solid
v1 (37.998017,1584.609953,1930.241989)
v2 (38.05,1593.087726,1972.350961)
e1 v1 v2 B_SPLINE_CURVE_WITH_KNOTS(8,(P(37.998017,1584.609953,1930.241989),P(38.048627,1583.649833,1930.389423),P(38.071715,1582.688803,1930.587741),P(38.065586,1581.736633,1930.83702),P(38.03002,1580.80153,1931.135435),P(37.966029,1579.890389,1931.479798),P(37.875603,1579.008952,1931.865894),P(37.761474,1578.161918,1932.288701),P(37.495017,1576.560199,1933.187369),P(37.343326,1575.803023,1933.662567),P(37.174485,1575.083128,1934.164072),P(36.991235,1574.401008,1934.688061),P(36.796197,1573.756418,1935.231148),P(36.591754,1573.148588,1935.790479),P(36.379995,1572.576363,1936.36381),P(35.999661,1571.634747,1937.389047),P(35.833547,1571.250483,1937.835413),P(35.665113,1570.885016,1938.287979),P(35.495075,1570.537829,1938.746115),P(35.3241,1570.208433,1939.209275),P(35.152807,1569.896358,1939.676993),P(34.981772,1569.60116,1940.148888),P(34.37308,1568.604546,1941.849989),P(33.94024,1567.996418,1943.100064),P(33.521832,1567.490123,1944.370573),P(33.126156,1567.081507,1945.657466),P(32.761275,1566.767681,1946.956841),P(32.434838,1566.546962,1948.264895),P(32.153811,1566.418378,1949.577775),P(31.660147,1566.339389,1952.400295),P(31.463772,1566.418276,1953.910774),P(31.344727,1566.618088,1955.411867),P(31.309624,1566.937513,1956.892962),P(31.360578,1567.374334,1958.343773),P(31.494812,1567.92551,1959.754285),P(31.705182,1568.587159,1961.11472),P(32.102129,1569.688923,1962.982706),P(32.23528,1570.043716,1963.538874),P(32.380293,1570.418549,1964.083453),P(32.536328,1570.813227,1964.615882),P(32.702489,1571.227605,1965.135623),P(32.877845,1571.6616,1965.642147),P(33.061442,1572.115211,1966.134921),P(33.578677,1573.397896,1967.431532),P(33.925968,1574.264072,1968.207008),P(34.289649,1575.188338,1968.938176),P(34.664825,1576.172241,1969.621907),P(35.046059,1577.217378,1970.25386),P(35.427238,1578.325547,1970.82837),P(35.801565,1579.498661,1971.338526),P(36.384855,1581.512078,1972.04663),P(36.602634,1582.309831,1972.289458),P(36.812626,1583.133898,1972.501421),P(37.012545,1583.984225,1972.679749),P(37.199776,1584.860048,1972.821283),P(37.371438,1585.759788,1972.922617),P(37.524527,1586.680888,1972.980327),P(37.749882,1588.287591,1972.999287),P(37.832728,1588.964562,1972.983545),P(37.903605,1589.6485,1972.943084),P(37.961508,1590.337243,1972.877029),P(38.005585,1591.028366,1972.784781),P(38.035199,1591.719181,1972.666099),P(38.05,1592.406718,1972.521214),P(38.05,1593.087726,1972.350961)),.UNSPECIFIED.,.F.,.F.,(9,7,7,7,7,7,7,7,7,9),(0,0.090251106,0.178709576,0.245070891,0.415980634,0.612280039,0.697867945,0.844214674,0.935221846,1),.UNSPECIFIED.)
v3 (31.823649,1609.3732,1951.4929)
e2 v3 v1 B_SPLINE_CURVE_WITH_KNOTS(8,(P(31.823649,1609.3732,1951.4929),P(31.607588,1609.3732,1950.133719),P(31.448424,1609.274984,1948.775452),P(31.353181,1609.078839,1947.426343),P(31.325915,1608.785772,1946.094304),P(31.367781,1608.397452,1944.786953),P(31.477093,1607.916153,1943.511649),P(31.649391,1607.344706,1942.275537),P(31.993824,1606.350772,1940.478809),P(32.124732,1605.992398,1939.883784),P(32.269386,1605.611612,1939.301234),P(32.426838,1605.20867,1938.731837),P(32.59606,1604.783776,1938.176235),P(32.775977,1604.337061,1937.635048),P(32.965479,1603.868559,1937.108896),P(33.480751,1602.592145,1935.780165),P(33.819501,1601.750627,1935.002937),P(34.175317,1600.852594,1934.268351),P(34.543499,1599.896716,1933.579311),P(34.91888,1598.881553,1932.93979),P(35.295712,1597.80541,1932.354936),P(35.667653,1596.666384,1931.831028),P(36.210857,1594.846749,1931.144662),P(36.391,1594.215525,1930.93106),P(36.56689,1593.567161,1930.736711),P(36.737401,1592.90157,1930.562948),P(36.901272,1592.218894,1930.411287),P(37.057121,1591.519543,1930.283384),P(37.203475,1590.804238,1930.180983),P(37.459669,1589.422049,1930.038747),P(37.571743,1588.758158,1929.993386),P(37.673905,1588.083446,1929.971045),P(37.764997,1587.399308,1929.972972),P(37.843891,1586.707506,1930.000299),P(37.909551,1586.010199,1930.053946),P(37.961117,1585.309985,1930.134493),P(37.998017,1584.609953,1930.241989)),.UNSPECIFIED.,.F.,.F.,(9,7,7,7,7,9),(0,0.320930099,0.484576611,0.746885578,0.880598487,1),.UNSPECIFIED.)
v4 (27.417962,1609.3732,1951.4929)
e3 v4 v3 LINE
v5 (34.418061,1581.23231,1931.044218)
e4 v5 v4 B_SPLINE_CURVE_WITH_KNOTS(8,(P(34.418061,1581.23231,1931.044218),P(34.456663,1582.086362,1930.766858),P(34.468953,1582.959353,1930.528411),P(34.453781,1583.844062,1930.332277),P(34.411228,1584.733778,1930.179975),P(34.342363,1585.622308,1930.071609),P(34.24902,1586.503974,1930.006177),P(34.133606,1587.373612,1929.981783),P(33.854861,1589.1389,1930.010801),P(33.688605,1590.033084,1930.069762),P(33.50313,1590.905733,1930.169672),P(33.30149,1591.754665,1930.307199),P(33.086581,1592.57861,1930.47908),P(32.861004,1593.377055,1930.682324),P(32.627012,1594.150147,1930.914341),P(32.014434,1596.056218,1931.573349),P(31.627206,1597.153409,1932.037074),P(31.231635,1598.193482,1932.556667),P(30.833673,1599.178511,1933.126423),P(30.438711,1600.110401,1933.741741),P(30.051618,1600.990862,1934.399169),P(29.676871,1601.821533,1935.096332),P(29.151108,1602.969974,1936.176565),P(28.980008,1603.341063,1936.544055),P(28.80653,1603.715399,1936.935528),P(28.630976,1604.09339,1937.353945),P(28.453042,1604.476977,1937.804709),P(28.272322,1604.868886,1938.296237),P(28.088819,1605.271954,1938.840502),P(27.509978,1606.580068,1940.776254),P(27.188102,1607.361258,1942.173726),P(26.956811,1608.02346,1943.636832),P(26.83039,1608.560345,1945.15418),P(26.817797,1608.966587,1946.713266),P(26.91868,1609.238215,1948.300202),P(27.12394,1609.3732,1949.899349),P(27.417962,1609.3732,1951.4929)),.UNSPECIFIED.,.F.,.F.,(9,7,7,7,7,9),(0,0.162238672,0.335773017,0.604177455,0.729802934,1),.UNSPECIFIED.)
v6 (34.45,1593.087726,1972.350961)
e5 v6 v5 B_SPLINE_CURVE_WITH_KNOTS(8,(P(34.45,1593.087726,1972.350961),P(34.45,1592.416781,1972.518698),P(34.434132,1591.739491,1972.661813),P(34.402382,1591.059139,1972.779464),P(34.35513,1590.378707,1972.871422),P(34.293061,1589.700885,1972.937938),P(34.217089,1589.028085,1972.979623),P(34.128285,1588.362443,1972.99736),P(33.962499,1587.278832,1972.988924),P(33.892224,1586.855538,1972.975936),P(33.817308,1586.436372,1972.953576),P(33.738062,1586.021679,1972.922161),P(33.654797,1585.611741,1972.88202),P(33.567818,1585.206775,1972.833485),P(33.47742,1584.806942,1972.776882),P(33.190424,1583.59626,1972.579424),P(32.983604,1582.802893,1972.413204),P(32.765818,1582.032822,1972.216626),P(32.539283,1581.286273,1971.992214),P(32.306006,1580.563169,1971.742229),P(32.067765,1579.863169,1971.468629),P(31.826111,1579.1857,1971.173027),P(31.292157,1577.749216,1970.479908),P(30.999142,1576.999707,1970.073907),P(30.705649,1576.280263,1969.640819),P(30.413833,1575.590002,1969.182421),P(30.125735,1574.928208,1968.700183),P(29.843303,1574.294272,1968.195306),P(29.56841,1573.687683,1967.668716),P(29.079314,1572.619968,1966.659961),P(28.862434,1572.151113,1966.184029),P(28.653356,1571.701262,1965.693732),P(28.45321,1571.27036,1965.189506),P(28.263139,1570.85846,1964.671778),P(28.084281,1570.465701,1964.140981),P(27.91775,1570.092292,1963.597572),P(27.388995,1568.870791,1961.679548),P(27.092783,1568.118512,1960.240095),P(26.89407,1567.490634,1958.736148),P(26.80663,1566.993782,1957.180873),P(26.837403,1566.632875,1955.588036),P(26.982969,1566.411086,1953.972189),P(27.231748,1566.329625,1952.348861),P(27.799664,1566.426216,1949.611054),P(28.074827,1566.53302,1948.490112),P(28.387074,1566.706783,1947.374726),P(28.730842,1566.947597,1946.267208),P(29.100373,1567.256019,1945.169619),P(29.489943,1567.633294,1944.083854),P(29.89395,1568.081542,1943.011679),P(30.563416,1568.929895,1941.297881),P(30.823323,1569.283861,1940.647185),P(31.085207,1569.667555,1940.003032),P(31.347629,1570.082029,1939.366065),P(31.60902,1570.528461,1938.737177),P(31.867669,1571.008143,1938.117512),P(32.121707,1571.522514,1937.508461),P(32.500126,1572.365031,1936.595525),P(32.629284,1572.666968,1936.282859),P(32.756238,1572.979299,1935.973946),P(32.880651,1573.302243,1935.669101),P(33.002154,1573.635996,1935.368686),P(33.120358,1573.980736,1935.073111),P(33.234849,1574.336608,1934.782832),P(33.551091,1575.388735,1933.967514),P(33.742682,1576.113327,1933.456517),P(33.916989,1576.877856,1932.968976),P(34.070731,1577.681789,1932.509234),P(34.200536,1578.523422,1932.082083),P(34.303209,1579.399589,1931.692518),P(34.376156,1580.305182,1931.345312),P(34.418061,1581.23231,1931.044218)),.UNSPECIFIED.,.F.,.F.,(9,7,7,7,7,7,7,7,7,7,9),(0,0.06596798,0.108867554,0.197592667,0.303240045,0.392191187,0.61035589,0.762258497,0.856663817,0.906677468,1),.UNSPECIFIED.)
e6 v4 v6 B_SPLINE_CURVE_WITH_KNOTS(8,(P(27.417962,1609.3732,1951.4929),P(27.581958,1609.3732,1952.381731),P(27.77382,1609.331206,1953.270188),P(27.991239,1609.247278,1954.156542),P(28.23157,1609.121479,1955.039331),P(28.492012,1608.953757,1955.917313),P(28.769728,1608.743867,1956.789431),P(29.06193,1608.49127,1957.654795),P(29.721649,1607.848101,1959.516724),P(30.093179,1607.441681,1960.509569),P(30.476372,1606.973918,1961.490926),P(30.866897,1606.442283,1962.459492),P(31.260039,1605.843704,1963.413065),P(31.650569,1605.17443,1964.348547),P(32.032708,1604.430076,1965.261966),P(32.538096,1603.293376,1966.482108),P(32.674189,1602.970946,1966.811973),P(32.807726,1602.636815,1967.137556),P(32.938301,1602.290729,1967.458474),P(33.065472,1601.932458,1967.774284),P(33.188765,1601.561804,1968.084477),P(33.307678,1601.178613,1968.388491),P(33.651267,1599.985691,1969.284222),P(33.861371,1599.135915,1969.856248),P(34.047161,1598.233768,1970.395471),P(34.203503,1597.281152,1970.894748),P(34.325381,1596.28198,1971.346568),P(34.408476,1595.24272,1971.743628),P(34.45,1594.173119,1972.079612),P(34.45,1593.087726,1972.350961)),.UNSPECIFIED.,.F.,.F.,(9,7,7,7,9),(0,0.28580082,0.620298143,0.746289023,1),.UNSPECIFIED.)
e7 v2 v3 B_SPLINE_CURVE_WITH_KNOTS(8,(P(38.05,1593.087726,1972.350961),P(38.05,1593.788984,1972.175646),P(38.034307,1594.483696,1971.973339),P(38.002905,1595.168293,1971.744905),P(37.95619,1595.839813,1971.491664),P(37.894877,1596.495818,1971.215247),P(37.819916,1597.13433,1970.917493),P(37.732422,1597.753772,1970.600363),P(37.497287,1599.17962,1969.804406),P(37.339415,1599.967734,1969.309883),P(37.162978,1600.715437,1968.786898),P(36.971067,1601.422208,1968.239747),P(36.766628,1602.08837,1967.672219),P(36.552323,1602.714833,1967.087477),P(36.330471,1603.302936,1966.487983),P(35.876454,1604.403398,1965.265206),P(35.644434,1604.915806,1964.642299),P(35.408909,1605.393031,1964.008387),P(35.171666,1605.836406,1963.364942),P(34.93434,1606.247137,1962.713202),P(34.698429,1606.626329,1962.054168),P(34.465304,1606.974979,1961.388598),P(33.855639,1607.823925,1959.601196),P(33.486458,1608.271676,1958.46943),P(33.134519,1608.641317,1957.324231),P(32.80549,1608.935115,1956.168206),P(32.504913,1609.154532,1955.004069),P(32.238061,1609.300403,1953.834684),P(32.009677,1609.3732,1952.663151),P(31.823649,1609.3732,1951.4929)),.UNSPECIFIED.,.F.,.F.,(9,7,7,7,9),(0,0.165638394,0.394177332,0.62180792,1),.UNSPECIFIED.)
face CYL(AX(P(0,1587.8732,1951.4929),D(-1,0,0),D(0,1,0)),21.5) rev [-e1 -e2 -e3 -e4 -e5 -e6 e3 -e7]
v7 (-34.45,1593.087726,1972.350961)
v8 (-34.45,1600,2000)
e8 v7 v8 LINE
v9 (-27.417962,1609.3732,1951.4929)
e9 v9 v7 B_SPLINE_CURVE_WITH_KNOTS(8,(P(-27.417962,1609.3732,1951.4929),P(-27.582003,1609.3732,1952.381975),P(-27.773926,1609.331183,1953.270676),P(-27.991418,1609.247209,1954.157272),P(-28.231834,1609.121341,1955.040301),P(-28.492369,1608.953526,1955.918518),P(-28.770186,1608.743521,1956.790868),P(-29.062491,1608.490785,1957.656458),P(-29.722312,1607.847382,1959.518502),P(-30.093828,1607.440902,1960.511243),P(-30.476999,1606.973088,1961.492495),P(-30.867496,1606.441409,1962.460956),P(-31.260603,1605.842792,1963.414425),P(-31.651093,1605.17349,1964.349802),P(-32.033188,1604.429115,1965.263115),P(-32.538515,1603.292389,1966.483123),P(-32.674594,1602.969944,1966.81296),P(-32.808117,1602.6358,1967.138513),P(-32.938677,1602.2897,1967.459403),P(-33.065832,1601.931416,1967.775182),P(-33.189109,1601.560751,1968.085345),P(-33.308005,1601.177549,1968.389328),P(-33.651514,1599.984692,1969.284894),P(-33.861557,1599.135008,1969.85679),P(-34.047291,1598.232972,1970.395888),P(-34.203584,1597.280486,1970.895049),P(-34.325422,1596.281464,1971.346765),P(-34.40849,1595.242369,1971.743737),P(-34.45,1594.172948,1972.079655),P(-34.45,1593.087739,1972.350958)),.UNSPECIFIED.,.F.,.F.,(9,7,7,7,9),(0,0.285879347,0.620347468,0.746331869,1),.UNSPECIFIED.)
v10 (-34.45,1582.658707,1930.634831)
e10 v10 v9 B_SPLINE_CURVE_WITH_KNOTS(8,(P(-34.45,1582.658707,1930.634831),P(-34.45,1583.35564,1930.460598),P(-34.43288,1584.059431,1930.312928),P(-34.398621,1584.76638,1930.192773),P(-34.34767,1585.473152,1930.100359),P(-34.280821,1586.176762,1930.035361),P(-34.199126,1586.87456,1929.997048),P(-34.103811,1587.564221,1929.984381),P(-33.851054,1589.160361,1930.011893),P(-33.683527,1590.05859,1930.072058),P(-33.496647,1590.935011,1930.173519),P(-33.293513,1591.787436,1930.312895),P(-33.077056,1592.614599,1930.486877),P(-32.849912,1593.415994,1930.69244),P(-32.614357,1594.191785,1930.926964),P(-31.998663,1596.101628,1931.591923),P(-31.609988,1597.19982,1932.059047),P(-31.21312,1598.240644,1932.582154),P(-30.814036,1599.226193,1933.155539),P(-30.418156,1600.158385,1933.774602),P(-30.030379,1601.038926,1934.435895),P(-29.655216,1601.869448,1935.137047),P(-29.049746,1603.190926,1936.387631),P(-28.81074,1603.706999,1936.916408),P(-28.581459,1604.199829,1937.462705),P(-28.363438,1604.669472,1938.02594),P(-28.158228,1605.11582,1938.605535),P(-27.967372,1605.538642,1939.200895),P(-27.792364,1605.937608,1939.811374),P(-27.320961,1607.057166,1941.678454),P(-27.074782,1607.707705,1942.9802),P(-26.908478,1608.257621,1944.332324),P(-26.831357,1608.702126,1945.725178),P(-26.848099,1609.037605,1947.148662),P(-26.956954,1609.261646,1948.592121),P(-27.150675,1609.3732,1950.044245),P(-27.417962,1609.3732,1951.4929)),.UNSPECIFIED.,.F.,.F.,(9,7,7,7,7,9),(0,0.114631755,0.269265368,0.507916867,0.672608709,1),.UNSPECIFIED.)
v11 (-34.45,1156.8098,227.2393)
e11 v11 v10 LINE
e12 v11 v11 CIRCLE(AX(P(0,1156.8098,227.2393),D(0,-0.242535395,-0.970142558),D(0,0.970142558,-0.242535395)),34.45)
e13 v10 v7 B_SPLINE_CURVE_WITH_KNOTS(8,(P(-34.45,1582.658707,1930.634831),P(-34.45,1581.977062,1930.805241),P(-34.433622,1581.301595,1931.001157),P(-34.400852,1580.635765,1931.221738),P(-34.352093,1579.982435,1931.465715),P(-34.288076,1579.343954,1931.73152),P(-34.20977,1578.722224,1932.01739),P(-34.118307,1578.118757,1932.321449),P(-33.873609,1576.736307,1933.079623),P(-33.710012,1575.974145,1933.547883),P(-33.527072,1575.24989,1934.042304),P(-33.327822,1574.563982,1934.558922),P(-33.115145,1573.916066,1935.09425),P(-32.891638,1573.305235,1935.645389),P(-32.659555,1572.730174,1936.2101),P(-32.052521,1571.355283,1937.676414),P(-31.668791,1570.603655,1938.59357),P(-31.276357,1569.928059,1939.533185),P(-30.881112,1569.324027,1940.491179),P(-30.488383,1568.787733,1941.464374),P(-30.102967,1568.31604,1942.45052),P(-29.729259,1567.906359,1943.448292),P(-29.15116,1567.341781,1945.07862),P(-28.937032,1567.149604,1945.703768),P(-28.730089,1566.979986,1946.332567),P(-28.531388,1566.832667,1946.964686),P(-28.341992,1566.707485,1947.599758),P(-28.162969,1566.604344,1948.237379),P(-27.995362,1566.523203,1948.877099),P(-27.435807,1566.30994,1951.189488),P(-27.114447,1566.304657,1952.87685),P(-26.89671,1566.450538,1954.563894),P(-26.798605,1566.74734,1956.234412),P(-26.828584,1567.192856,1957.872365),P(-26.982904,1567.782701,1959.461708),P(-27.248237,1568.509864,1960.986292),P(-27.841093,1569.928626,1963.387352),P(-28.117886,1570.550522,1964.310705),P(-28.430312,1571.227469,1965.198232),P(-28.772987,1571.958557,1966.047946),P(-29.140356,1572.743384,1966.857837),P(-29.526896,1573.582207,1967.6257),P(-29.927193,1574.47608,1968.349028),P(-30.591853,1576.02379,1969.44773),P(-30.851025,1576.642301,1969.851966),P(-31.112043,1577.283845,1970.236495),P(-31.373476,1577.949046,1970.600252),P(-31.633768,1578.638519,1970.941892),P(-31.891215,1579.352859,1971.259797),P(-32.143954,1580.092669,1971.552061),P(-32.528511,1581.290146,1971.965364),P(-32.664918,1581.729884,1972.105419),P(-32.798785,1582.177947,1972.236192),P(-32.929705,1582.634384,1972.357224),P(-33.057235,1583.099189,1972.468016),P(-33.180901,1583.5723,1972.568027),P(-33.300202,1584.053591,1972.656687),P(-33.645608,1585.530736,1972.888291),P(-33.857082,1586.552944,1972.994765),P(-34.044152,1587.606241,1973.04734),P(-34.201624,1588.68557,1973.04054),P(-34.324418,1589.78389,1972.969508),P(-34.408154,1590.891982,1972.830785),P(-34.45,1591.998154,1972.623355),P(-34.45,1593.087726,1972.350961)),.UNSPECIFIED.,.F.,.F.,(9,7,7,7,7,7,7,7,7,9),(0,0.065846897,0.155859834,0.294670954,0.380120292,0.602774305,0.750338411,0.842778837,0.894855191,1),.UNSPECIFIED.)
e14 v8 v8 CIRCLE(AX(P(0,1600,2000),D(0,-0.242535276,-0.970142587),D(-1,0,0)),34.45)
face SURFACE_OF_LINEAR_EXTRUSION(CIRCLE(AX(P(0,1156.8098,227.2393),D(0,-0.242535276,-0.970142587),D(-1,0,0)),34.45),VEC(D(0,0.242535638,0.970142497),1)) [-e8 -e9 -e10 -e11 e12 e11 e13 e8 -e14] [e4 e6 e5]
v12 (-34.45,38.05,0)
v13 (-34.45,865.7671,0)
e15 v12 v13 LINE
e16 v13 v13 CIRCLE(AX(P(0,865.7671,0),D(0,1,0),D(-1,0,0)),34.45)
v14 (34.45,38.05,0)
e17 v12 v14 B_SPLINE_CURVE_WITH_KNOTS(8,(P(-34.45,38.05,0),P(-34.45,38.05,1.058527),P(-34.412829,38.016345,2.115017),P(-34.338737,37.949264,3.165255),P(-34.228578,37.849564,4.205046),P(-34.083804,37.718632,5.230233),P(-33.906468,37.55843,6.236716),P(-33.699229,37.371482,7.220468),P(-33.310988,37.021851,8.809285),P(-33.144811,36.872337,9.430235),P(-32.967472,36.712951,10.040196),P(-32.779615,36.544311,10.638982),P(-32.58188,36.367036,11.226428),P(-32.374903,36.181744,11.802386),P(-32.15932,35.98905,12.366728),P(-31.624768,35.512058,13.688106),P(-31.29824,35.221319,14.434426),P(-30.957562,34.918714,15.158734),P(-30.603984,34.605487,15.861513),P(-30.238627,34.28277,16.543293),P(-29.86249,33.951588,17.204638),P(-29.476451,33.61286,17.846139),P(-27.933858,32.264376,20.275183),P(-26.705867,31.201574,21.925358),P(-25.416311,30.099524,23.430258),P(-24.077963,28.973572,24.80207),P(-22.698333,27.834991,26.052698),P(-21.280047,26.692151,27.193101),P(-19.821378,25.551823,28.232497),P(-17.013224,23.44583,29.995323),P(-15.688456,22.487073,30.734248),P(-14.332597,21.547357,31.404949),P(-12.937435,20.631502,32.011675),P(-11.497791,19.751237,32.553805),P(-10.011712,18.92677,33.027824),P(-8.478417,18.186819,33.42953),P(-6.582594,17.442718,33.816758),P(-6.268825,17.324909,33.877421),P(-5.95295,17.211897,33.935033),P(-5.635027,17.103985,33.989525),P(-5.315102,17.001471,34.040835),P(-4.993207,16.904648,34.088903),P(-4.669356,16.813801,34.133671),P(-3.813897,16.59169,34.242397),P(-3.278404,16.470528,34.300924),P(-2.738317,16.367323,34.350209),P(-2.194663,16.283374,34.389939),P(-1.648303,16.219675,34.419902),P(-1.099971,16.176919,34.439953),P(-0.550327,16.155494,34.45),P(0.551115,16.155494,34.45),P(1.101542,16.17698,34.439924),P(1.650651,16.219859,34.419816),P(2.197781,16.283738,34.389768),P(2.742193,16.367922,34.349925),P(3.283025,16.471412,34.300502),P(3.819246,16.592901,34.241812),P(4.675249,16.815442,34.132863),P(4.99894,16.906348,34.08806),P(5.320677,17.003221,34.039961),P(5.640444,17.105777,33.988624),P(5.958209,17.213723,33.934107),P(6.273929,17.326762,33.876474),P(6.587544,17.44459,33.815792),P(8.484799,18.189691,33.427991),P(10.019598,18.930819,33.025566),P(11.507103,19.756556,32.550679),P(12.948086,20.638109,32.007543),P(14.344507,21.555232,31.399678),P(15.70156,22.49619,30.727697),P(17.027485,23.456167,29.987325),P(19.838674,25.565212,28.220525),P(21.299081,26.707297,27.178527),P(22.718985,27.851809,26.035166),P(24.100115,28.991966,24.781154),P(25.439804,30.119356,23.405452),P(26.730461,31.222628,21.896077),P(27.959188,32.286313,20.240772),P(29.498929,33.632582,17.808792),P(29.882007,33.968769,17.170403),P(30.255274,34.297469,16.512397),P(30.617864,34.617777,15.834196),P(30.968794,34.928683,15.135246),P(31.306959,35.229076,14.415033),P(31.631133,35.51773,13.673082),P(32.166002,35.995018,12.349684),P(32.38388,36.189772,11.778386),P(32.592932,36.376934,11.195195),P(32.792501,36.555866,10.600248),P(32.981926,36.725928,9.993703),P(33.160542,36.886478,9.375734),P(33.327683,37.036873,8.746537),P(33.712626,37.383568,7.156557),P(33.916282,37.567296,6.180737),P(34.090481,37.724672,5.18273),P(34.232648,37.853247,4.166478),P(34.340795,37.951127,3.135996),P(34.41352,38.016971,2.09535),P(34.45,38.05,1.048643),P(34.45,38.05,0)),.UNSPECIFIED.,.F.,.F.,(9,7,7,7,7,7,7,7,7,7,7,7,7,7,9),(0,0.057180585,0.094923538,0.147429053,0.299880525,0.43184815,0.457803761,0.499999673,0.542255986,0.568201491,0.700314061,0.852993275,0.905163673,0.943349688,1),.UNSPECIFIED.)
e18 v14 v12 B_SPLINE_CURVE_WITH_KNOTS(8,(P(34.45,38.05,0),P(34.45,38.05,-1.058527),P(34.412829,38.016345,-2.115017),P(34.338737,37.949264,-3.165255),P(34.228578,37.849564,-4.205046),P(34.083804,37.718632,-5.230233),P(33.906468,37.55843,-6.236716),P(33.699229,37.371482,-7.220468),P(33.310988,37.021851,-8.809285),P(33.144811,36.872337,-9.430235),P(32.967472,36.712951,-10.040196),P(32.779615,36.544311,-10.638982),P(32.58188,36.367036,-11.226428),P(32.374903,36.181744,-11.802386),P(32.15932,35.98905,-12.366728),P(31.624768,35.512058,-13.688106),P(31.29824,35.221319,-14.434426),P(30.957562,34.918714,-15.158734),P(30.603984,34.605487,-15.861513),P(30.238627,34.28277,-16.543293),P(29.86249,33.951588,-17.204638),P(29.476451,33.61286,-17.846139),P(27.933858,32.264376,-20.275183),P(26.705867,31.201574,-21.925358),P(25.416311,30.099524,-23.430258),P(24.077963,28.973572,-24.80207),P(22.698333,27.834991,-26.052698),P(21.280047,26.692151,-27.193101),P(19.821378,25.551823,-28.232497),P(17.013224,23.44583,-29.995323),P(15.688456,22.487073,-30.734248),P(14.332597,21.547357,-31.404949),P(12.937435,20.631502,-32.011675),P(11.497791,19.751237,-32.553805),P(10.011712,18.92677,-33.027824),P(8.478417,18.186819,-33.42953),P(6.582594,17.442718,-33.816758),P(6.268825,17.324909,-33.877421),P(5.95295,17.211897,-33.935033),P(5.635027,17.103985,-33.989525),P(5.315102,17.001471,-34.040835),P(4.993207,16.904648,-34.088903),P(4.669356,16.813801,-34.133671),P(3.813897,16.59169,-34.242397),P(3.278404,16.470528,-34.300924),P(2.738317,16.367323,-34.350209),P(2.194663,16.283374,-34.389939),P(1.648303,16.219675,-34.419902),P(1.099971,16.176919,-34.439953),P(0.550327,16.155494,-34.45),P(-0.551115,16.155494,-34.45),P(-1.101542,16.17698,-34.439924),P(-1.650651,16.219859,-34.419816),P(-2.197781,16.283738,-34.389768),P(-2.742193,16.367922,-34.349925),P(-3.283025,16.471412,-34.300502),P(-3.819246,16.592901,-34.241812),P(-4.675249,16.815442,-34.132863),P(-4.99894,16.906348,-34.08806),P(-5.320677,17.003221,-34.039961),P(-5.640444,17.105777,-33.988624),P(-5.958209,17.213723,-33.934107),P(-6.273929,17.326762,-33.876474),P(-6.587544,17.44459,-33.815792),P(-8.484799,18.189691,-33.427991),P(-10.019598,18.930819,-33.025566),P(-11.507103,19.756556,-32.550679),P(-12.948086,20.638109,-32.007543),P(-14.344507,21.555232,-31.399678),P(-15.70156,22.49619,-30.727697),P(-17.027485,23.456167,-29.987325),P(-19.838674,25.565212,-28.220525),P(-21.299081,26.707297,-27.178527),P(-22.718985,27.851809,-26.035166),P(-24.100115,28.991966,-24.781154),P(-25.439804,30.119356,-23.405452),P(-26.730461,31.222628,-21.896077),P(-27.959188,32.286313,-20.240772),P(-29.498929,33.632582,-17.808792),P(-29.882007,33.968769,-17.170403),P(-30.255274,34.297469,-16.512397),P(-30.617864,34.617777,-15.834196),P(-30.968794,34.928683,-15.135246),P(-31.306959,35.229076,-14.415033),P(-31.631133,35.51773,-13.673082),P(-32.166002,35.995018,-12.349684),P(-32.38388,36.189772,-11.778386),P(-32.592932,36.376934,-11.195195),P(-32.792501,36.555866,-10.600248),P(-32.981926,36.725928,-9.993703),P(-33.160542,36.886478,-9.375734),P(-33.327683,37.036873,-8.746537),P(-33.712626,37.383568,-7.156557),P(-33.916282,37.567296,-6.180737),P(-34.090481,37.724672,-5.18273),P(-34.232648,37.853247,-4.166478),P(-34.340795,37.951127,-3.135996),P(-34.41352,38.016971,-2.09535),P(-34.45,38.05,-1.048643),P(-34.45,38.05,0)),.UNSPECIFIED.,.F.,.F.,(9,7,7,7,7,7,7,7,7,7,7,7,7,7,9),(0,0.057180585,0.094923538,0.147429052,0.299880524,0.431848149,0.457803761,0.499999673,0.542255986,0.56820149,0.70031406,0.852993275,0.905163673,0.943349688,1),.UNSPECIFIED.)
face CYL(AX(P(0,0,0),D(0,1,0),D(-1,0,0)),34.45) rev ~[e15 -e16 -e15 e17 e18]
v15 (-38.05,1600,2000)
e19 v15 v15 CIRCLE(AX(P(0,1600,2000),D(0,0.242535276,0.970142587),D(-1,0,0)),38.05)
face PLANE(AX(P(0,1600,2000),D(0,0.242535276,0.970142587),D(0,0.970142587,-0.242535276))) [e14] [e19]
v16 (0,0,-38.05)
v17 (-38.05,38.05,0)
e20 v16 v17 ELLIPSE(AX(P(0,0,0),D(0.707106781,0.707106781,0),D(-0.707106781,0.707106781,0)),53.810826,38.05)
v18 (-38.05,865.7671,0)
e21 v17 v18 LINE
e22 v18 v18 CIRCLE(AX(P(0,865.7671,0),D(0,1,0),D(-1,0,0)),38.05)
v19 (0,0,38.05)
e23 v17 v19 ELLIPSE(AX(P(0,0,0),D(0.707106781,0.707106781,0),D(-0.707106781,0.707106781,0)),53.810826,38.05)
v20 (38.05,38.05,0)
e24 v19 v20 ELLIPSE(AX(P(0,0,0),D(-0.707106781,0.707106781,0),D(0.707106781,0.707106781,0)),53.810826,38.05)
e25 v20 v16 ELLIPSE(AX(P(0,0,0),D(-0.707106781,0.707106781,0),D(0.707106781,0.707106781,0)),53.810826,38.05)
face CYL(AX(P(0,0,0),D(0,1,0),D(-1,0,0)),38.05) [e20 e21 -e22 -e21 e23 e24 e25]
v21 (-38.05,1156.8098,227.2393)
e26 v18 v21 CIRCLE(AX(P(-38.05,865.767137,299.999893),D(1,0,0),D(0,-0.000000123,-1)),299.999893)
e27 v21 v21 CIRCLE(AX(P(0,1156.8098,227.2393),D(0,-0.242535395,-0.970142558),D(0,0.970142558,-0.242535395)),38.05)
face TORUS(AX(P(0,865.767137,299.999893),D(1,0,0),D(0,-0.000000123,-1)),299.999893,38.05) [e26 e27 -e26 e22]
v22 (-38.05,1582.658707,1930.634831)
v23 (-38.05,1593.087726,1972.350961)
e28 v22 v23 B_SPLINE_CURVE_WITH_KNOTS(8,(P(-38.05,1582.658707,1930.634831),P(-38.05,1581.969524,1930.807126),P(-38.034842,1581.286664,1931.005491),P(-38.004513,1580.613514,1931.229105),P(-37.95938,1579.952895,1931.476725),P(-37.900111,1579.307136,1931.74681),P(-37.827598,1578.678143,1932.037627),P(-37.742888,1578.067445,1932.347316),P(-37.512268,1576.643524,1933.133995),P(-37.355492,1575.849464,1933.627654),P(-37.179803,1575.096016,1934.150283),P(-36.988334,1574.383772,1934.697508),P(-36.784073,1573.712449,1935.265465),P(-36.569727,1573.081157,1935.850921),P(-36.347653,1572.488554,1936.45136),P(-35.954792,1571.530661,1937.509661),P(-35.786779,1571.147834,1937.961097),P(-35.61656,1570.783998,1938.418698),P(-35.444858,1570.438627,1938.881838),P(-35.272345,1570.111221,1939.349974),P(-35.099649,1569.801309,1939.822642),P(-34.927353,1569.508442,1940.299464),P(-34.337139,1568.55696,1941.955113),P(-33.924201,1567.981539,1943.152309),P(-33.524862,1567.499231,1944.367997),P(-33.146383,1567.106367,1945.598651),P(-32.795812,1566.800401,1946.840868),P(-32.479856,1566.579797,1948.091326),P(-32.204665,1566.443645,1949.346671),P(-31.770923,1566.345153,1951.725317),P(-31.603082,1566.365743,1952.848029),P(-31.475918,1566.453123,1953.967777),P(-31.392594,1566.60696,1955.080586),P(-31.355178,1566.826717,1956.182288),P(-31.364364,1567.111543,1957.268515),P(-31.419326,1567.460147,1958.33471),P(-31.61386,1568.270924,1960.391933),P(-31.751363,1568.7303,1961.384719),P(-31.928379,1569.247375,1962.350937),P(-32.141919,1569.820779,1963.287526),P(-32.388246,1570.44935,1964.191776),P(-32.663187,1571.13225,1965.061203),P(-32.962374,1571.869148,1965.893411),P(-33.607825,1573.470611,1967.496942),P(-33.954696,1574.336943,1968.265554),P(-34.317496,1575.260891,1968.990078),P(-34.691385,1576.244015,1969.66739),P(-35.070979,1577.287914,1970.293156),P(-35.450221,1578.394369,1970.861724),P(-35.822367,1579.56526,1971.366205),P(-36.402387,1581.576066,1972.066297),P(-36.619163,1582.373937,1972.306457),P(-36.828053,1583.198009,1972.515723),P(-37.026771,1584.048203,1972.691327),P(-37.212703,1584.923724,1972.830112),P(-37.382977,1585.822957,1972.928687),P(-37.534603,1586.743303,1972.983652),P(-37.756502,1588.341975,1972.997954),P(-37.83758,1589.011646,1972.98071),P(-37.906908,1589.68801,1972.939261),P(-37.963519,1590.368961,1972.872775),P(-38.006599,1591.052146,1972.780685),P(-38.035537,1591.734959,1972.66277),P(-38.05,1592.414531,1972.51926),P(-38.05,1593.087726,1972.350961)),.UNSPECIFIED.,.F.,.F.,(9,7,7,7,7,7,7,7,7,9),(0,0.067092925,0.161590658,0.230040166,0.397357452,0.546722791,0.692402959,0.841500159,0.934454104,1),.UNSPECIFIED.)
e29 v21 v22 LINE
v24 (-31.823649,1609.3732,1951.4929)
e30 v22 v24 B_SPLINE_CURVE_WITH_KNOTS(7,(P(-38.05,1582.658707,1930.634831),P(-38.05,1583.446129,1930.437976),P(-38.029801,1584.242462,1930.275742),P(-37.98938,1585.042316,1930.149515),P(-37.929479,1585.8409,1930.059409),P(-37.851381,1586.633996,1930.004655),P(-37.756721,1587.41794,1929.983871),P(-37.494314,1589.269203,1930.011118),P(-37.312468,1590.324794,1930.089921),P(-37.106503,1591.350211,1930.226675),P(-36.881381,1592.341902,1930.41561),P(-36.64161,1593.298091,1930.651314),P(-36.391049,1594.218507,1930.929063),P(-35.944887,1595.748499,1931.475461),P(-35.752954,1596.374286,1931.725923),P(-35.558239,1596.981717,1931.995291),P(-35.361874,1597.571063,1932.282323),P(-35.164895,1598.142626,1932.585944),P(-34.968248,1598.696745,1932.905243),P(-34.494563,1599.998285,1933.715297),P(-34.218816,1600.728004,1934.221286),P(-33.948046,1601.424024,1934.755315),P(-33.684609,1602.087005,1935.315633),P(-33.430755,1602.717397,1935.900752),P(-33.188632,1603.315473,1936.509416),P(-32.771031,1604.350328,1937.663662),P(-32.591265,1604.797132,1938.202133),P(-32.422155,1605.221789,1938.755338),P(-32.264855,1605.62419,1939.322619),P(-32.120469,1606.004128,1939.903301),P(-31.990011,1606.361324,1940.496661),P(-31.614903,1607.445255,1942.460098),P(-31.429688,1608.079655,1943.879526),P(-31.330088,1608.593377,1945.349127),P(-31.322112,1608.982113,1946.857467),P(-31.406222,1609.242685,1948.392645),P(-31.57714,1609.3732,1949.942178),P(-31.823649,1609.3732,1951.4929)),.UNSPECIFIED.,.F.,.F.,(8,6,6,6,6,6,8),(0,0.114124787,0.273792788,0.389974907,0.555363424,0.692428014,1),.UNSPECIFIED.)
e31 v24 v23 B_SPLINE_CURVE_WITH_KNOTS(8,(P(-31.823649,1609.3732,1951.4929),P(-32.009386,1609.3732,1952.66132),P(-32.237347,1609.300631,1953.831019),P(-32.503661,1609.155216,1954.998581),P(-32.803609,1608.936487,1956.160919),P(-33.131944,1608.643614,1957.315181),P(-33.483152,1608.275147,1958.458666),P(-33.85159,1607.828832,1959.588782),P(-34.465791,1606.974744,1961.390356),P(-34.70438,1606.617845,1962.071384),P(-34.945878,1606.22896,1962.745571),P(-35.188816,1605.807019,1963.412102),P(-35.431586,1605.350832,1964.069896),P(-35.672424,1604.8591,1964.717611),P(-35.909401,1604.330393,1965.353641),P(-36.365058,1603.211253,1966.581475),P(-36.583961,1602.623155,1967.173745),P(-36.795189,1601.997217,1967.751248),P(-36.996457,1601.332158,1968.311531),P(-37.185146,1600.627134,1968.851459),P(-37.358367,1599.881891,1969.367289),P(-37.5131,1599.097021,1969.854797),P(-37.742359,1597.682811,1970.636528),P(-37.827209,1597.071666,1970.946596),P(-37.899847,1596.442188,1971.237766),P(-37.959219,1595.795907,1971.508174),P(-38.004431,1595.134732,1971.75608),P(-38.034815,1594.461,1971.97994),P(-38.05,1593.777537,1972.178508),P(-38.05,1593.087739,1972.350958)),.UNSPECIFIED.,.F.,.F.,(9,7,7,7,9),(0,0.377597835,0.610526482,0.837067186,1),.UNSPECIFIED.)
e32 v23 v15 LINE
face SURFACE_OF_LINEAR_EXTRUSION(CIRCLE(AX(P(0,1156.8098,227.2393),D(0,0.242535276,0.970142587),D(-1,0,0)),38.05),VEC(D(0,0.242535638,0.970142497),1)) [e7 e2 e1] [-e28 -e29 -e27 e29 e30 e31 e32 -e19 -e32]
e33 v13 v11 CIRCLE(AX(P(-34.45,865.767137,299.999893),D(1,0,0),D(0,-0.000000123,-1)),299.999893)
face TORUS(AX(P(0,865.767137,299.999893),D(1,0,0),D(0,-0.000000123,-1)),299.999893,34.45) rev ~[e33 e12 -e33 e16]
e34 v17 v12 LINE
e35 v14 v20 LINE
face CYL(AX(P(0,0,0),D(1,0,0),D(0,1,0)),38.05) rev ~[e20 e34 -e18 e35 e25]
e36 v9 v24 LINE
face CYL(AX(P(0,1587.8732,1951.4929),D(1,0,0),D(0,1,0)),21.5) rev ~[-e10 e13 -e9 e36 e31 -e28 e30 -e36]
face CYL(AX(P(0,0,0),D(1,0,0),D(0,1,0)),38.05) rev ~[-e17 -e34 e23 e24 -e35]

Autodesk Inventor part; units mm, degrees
sketch "Skizze2" plane through (0, 0, 0) normal (1, 0, 0) x (0, 1, 0)
  line L0 (0, 0) -> (865.7671, 0)
  arc A0 (865.7671, 0) -> (1156.8098, 227.2393) centre (865.7671, 300) ccw
  line L1 (1156.8098, 227.2393) -> (1600, 2000)
  line L2 (1156.8098, 227.2393) -> (1100, 0)
  line L3 (865.7671, 0) -> (1100, 0)
  dimension "d6" = 300
  dimension "d7" = 1600
  dimension "d8" = 2000
  dimension "d18" = 1100
sketch "Skizze3" plane through (0, 0, 0) normal (0, 1, 0) x (-1, 0, 0)
  circle A0 centre (0, 0) radius 38.05
  circle A1 centre (0, 0) radius 34.45
  dimension "d12" = 76.1
  dimension "d13" = 3.6
sweep "Sweeping1" add profiles "Skizze3" path "Skizze2" path curves L0 A0 L1
sketch "Skizze5" plane through (0, 0, 0) normal (1, 0, 0) x (0, 1, 0)
  line L0 (0, -38.05) -> (0, 38.05) projected
  circle A0 centre (0, 0) radius 38.05
extrude "Extrusion3" cut sketch "Skizze5" along normal mid plane 76.1
sketch "Skizze6" plane through (0, 0, 0) normal (1, 0, 0) x (0, 1, 0)
  line L0 (1636.9139, 1990.7715) -> (1563.0861, 2009.2285) projected
  line L1 (1600, 2000) -> (1587.8732, 1951.4929)
  circle A0 centre (1587.8732, 1951.4929) radius 21.5
  point P0 (0, 0)
  dimension "d19" = 43
  dimension "d21" = 50
extrude "Extrusion4" cut sketch "Skizze6" along normal through all both and the other way through all
properties part number "Hebel"
